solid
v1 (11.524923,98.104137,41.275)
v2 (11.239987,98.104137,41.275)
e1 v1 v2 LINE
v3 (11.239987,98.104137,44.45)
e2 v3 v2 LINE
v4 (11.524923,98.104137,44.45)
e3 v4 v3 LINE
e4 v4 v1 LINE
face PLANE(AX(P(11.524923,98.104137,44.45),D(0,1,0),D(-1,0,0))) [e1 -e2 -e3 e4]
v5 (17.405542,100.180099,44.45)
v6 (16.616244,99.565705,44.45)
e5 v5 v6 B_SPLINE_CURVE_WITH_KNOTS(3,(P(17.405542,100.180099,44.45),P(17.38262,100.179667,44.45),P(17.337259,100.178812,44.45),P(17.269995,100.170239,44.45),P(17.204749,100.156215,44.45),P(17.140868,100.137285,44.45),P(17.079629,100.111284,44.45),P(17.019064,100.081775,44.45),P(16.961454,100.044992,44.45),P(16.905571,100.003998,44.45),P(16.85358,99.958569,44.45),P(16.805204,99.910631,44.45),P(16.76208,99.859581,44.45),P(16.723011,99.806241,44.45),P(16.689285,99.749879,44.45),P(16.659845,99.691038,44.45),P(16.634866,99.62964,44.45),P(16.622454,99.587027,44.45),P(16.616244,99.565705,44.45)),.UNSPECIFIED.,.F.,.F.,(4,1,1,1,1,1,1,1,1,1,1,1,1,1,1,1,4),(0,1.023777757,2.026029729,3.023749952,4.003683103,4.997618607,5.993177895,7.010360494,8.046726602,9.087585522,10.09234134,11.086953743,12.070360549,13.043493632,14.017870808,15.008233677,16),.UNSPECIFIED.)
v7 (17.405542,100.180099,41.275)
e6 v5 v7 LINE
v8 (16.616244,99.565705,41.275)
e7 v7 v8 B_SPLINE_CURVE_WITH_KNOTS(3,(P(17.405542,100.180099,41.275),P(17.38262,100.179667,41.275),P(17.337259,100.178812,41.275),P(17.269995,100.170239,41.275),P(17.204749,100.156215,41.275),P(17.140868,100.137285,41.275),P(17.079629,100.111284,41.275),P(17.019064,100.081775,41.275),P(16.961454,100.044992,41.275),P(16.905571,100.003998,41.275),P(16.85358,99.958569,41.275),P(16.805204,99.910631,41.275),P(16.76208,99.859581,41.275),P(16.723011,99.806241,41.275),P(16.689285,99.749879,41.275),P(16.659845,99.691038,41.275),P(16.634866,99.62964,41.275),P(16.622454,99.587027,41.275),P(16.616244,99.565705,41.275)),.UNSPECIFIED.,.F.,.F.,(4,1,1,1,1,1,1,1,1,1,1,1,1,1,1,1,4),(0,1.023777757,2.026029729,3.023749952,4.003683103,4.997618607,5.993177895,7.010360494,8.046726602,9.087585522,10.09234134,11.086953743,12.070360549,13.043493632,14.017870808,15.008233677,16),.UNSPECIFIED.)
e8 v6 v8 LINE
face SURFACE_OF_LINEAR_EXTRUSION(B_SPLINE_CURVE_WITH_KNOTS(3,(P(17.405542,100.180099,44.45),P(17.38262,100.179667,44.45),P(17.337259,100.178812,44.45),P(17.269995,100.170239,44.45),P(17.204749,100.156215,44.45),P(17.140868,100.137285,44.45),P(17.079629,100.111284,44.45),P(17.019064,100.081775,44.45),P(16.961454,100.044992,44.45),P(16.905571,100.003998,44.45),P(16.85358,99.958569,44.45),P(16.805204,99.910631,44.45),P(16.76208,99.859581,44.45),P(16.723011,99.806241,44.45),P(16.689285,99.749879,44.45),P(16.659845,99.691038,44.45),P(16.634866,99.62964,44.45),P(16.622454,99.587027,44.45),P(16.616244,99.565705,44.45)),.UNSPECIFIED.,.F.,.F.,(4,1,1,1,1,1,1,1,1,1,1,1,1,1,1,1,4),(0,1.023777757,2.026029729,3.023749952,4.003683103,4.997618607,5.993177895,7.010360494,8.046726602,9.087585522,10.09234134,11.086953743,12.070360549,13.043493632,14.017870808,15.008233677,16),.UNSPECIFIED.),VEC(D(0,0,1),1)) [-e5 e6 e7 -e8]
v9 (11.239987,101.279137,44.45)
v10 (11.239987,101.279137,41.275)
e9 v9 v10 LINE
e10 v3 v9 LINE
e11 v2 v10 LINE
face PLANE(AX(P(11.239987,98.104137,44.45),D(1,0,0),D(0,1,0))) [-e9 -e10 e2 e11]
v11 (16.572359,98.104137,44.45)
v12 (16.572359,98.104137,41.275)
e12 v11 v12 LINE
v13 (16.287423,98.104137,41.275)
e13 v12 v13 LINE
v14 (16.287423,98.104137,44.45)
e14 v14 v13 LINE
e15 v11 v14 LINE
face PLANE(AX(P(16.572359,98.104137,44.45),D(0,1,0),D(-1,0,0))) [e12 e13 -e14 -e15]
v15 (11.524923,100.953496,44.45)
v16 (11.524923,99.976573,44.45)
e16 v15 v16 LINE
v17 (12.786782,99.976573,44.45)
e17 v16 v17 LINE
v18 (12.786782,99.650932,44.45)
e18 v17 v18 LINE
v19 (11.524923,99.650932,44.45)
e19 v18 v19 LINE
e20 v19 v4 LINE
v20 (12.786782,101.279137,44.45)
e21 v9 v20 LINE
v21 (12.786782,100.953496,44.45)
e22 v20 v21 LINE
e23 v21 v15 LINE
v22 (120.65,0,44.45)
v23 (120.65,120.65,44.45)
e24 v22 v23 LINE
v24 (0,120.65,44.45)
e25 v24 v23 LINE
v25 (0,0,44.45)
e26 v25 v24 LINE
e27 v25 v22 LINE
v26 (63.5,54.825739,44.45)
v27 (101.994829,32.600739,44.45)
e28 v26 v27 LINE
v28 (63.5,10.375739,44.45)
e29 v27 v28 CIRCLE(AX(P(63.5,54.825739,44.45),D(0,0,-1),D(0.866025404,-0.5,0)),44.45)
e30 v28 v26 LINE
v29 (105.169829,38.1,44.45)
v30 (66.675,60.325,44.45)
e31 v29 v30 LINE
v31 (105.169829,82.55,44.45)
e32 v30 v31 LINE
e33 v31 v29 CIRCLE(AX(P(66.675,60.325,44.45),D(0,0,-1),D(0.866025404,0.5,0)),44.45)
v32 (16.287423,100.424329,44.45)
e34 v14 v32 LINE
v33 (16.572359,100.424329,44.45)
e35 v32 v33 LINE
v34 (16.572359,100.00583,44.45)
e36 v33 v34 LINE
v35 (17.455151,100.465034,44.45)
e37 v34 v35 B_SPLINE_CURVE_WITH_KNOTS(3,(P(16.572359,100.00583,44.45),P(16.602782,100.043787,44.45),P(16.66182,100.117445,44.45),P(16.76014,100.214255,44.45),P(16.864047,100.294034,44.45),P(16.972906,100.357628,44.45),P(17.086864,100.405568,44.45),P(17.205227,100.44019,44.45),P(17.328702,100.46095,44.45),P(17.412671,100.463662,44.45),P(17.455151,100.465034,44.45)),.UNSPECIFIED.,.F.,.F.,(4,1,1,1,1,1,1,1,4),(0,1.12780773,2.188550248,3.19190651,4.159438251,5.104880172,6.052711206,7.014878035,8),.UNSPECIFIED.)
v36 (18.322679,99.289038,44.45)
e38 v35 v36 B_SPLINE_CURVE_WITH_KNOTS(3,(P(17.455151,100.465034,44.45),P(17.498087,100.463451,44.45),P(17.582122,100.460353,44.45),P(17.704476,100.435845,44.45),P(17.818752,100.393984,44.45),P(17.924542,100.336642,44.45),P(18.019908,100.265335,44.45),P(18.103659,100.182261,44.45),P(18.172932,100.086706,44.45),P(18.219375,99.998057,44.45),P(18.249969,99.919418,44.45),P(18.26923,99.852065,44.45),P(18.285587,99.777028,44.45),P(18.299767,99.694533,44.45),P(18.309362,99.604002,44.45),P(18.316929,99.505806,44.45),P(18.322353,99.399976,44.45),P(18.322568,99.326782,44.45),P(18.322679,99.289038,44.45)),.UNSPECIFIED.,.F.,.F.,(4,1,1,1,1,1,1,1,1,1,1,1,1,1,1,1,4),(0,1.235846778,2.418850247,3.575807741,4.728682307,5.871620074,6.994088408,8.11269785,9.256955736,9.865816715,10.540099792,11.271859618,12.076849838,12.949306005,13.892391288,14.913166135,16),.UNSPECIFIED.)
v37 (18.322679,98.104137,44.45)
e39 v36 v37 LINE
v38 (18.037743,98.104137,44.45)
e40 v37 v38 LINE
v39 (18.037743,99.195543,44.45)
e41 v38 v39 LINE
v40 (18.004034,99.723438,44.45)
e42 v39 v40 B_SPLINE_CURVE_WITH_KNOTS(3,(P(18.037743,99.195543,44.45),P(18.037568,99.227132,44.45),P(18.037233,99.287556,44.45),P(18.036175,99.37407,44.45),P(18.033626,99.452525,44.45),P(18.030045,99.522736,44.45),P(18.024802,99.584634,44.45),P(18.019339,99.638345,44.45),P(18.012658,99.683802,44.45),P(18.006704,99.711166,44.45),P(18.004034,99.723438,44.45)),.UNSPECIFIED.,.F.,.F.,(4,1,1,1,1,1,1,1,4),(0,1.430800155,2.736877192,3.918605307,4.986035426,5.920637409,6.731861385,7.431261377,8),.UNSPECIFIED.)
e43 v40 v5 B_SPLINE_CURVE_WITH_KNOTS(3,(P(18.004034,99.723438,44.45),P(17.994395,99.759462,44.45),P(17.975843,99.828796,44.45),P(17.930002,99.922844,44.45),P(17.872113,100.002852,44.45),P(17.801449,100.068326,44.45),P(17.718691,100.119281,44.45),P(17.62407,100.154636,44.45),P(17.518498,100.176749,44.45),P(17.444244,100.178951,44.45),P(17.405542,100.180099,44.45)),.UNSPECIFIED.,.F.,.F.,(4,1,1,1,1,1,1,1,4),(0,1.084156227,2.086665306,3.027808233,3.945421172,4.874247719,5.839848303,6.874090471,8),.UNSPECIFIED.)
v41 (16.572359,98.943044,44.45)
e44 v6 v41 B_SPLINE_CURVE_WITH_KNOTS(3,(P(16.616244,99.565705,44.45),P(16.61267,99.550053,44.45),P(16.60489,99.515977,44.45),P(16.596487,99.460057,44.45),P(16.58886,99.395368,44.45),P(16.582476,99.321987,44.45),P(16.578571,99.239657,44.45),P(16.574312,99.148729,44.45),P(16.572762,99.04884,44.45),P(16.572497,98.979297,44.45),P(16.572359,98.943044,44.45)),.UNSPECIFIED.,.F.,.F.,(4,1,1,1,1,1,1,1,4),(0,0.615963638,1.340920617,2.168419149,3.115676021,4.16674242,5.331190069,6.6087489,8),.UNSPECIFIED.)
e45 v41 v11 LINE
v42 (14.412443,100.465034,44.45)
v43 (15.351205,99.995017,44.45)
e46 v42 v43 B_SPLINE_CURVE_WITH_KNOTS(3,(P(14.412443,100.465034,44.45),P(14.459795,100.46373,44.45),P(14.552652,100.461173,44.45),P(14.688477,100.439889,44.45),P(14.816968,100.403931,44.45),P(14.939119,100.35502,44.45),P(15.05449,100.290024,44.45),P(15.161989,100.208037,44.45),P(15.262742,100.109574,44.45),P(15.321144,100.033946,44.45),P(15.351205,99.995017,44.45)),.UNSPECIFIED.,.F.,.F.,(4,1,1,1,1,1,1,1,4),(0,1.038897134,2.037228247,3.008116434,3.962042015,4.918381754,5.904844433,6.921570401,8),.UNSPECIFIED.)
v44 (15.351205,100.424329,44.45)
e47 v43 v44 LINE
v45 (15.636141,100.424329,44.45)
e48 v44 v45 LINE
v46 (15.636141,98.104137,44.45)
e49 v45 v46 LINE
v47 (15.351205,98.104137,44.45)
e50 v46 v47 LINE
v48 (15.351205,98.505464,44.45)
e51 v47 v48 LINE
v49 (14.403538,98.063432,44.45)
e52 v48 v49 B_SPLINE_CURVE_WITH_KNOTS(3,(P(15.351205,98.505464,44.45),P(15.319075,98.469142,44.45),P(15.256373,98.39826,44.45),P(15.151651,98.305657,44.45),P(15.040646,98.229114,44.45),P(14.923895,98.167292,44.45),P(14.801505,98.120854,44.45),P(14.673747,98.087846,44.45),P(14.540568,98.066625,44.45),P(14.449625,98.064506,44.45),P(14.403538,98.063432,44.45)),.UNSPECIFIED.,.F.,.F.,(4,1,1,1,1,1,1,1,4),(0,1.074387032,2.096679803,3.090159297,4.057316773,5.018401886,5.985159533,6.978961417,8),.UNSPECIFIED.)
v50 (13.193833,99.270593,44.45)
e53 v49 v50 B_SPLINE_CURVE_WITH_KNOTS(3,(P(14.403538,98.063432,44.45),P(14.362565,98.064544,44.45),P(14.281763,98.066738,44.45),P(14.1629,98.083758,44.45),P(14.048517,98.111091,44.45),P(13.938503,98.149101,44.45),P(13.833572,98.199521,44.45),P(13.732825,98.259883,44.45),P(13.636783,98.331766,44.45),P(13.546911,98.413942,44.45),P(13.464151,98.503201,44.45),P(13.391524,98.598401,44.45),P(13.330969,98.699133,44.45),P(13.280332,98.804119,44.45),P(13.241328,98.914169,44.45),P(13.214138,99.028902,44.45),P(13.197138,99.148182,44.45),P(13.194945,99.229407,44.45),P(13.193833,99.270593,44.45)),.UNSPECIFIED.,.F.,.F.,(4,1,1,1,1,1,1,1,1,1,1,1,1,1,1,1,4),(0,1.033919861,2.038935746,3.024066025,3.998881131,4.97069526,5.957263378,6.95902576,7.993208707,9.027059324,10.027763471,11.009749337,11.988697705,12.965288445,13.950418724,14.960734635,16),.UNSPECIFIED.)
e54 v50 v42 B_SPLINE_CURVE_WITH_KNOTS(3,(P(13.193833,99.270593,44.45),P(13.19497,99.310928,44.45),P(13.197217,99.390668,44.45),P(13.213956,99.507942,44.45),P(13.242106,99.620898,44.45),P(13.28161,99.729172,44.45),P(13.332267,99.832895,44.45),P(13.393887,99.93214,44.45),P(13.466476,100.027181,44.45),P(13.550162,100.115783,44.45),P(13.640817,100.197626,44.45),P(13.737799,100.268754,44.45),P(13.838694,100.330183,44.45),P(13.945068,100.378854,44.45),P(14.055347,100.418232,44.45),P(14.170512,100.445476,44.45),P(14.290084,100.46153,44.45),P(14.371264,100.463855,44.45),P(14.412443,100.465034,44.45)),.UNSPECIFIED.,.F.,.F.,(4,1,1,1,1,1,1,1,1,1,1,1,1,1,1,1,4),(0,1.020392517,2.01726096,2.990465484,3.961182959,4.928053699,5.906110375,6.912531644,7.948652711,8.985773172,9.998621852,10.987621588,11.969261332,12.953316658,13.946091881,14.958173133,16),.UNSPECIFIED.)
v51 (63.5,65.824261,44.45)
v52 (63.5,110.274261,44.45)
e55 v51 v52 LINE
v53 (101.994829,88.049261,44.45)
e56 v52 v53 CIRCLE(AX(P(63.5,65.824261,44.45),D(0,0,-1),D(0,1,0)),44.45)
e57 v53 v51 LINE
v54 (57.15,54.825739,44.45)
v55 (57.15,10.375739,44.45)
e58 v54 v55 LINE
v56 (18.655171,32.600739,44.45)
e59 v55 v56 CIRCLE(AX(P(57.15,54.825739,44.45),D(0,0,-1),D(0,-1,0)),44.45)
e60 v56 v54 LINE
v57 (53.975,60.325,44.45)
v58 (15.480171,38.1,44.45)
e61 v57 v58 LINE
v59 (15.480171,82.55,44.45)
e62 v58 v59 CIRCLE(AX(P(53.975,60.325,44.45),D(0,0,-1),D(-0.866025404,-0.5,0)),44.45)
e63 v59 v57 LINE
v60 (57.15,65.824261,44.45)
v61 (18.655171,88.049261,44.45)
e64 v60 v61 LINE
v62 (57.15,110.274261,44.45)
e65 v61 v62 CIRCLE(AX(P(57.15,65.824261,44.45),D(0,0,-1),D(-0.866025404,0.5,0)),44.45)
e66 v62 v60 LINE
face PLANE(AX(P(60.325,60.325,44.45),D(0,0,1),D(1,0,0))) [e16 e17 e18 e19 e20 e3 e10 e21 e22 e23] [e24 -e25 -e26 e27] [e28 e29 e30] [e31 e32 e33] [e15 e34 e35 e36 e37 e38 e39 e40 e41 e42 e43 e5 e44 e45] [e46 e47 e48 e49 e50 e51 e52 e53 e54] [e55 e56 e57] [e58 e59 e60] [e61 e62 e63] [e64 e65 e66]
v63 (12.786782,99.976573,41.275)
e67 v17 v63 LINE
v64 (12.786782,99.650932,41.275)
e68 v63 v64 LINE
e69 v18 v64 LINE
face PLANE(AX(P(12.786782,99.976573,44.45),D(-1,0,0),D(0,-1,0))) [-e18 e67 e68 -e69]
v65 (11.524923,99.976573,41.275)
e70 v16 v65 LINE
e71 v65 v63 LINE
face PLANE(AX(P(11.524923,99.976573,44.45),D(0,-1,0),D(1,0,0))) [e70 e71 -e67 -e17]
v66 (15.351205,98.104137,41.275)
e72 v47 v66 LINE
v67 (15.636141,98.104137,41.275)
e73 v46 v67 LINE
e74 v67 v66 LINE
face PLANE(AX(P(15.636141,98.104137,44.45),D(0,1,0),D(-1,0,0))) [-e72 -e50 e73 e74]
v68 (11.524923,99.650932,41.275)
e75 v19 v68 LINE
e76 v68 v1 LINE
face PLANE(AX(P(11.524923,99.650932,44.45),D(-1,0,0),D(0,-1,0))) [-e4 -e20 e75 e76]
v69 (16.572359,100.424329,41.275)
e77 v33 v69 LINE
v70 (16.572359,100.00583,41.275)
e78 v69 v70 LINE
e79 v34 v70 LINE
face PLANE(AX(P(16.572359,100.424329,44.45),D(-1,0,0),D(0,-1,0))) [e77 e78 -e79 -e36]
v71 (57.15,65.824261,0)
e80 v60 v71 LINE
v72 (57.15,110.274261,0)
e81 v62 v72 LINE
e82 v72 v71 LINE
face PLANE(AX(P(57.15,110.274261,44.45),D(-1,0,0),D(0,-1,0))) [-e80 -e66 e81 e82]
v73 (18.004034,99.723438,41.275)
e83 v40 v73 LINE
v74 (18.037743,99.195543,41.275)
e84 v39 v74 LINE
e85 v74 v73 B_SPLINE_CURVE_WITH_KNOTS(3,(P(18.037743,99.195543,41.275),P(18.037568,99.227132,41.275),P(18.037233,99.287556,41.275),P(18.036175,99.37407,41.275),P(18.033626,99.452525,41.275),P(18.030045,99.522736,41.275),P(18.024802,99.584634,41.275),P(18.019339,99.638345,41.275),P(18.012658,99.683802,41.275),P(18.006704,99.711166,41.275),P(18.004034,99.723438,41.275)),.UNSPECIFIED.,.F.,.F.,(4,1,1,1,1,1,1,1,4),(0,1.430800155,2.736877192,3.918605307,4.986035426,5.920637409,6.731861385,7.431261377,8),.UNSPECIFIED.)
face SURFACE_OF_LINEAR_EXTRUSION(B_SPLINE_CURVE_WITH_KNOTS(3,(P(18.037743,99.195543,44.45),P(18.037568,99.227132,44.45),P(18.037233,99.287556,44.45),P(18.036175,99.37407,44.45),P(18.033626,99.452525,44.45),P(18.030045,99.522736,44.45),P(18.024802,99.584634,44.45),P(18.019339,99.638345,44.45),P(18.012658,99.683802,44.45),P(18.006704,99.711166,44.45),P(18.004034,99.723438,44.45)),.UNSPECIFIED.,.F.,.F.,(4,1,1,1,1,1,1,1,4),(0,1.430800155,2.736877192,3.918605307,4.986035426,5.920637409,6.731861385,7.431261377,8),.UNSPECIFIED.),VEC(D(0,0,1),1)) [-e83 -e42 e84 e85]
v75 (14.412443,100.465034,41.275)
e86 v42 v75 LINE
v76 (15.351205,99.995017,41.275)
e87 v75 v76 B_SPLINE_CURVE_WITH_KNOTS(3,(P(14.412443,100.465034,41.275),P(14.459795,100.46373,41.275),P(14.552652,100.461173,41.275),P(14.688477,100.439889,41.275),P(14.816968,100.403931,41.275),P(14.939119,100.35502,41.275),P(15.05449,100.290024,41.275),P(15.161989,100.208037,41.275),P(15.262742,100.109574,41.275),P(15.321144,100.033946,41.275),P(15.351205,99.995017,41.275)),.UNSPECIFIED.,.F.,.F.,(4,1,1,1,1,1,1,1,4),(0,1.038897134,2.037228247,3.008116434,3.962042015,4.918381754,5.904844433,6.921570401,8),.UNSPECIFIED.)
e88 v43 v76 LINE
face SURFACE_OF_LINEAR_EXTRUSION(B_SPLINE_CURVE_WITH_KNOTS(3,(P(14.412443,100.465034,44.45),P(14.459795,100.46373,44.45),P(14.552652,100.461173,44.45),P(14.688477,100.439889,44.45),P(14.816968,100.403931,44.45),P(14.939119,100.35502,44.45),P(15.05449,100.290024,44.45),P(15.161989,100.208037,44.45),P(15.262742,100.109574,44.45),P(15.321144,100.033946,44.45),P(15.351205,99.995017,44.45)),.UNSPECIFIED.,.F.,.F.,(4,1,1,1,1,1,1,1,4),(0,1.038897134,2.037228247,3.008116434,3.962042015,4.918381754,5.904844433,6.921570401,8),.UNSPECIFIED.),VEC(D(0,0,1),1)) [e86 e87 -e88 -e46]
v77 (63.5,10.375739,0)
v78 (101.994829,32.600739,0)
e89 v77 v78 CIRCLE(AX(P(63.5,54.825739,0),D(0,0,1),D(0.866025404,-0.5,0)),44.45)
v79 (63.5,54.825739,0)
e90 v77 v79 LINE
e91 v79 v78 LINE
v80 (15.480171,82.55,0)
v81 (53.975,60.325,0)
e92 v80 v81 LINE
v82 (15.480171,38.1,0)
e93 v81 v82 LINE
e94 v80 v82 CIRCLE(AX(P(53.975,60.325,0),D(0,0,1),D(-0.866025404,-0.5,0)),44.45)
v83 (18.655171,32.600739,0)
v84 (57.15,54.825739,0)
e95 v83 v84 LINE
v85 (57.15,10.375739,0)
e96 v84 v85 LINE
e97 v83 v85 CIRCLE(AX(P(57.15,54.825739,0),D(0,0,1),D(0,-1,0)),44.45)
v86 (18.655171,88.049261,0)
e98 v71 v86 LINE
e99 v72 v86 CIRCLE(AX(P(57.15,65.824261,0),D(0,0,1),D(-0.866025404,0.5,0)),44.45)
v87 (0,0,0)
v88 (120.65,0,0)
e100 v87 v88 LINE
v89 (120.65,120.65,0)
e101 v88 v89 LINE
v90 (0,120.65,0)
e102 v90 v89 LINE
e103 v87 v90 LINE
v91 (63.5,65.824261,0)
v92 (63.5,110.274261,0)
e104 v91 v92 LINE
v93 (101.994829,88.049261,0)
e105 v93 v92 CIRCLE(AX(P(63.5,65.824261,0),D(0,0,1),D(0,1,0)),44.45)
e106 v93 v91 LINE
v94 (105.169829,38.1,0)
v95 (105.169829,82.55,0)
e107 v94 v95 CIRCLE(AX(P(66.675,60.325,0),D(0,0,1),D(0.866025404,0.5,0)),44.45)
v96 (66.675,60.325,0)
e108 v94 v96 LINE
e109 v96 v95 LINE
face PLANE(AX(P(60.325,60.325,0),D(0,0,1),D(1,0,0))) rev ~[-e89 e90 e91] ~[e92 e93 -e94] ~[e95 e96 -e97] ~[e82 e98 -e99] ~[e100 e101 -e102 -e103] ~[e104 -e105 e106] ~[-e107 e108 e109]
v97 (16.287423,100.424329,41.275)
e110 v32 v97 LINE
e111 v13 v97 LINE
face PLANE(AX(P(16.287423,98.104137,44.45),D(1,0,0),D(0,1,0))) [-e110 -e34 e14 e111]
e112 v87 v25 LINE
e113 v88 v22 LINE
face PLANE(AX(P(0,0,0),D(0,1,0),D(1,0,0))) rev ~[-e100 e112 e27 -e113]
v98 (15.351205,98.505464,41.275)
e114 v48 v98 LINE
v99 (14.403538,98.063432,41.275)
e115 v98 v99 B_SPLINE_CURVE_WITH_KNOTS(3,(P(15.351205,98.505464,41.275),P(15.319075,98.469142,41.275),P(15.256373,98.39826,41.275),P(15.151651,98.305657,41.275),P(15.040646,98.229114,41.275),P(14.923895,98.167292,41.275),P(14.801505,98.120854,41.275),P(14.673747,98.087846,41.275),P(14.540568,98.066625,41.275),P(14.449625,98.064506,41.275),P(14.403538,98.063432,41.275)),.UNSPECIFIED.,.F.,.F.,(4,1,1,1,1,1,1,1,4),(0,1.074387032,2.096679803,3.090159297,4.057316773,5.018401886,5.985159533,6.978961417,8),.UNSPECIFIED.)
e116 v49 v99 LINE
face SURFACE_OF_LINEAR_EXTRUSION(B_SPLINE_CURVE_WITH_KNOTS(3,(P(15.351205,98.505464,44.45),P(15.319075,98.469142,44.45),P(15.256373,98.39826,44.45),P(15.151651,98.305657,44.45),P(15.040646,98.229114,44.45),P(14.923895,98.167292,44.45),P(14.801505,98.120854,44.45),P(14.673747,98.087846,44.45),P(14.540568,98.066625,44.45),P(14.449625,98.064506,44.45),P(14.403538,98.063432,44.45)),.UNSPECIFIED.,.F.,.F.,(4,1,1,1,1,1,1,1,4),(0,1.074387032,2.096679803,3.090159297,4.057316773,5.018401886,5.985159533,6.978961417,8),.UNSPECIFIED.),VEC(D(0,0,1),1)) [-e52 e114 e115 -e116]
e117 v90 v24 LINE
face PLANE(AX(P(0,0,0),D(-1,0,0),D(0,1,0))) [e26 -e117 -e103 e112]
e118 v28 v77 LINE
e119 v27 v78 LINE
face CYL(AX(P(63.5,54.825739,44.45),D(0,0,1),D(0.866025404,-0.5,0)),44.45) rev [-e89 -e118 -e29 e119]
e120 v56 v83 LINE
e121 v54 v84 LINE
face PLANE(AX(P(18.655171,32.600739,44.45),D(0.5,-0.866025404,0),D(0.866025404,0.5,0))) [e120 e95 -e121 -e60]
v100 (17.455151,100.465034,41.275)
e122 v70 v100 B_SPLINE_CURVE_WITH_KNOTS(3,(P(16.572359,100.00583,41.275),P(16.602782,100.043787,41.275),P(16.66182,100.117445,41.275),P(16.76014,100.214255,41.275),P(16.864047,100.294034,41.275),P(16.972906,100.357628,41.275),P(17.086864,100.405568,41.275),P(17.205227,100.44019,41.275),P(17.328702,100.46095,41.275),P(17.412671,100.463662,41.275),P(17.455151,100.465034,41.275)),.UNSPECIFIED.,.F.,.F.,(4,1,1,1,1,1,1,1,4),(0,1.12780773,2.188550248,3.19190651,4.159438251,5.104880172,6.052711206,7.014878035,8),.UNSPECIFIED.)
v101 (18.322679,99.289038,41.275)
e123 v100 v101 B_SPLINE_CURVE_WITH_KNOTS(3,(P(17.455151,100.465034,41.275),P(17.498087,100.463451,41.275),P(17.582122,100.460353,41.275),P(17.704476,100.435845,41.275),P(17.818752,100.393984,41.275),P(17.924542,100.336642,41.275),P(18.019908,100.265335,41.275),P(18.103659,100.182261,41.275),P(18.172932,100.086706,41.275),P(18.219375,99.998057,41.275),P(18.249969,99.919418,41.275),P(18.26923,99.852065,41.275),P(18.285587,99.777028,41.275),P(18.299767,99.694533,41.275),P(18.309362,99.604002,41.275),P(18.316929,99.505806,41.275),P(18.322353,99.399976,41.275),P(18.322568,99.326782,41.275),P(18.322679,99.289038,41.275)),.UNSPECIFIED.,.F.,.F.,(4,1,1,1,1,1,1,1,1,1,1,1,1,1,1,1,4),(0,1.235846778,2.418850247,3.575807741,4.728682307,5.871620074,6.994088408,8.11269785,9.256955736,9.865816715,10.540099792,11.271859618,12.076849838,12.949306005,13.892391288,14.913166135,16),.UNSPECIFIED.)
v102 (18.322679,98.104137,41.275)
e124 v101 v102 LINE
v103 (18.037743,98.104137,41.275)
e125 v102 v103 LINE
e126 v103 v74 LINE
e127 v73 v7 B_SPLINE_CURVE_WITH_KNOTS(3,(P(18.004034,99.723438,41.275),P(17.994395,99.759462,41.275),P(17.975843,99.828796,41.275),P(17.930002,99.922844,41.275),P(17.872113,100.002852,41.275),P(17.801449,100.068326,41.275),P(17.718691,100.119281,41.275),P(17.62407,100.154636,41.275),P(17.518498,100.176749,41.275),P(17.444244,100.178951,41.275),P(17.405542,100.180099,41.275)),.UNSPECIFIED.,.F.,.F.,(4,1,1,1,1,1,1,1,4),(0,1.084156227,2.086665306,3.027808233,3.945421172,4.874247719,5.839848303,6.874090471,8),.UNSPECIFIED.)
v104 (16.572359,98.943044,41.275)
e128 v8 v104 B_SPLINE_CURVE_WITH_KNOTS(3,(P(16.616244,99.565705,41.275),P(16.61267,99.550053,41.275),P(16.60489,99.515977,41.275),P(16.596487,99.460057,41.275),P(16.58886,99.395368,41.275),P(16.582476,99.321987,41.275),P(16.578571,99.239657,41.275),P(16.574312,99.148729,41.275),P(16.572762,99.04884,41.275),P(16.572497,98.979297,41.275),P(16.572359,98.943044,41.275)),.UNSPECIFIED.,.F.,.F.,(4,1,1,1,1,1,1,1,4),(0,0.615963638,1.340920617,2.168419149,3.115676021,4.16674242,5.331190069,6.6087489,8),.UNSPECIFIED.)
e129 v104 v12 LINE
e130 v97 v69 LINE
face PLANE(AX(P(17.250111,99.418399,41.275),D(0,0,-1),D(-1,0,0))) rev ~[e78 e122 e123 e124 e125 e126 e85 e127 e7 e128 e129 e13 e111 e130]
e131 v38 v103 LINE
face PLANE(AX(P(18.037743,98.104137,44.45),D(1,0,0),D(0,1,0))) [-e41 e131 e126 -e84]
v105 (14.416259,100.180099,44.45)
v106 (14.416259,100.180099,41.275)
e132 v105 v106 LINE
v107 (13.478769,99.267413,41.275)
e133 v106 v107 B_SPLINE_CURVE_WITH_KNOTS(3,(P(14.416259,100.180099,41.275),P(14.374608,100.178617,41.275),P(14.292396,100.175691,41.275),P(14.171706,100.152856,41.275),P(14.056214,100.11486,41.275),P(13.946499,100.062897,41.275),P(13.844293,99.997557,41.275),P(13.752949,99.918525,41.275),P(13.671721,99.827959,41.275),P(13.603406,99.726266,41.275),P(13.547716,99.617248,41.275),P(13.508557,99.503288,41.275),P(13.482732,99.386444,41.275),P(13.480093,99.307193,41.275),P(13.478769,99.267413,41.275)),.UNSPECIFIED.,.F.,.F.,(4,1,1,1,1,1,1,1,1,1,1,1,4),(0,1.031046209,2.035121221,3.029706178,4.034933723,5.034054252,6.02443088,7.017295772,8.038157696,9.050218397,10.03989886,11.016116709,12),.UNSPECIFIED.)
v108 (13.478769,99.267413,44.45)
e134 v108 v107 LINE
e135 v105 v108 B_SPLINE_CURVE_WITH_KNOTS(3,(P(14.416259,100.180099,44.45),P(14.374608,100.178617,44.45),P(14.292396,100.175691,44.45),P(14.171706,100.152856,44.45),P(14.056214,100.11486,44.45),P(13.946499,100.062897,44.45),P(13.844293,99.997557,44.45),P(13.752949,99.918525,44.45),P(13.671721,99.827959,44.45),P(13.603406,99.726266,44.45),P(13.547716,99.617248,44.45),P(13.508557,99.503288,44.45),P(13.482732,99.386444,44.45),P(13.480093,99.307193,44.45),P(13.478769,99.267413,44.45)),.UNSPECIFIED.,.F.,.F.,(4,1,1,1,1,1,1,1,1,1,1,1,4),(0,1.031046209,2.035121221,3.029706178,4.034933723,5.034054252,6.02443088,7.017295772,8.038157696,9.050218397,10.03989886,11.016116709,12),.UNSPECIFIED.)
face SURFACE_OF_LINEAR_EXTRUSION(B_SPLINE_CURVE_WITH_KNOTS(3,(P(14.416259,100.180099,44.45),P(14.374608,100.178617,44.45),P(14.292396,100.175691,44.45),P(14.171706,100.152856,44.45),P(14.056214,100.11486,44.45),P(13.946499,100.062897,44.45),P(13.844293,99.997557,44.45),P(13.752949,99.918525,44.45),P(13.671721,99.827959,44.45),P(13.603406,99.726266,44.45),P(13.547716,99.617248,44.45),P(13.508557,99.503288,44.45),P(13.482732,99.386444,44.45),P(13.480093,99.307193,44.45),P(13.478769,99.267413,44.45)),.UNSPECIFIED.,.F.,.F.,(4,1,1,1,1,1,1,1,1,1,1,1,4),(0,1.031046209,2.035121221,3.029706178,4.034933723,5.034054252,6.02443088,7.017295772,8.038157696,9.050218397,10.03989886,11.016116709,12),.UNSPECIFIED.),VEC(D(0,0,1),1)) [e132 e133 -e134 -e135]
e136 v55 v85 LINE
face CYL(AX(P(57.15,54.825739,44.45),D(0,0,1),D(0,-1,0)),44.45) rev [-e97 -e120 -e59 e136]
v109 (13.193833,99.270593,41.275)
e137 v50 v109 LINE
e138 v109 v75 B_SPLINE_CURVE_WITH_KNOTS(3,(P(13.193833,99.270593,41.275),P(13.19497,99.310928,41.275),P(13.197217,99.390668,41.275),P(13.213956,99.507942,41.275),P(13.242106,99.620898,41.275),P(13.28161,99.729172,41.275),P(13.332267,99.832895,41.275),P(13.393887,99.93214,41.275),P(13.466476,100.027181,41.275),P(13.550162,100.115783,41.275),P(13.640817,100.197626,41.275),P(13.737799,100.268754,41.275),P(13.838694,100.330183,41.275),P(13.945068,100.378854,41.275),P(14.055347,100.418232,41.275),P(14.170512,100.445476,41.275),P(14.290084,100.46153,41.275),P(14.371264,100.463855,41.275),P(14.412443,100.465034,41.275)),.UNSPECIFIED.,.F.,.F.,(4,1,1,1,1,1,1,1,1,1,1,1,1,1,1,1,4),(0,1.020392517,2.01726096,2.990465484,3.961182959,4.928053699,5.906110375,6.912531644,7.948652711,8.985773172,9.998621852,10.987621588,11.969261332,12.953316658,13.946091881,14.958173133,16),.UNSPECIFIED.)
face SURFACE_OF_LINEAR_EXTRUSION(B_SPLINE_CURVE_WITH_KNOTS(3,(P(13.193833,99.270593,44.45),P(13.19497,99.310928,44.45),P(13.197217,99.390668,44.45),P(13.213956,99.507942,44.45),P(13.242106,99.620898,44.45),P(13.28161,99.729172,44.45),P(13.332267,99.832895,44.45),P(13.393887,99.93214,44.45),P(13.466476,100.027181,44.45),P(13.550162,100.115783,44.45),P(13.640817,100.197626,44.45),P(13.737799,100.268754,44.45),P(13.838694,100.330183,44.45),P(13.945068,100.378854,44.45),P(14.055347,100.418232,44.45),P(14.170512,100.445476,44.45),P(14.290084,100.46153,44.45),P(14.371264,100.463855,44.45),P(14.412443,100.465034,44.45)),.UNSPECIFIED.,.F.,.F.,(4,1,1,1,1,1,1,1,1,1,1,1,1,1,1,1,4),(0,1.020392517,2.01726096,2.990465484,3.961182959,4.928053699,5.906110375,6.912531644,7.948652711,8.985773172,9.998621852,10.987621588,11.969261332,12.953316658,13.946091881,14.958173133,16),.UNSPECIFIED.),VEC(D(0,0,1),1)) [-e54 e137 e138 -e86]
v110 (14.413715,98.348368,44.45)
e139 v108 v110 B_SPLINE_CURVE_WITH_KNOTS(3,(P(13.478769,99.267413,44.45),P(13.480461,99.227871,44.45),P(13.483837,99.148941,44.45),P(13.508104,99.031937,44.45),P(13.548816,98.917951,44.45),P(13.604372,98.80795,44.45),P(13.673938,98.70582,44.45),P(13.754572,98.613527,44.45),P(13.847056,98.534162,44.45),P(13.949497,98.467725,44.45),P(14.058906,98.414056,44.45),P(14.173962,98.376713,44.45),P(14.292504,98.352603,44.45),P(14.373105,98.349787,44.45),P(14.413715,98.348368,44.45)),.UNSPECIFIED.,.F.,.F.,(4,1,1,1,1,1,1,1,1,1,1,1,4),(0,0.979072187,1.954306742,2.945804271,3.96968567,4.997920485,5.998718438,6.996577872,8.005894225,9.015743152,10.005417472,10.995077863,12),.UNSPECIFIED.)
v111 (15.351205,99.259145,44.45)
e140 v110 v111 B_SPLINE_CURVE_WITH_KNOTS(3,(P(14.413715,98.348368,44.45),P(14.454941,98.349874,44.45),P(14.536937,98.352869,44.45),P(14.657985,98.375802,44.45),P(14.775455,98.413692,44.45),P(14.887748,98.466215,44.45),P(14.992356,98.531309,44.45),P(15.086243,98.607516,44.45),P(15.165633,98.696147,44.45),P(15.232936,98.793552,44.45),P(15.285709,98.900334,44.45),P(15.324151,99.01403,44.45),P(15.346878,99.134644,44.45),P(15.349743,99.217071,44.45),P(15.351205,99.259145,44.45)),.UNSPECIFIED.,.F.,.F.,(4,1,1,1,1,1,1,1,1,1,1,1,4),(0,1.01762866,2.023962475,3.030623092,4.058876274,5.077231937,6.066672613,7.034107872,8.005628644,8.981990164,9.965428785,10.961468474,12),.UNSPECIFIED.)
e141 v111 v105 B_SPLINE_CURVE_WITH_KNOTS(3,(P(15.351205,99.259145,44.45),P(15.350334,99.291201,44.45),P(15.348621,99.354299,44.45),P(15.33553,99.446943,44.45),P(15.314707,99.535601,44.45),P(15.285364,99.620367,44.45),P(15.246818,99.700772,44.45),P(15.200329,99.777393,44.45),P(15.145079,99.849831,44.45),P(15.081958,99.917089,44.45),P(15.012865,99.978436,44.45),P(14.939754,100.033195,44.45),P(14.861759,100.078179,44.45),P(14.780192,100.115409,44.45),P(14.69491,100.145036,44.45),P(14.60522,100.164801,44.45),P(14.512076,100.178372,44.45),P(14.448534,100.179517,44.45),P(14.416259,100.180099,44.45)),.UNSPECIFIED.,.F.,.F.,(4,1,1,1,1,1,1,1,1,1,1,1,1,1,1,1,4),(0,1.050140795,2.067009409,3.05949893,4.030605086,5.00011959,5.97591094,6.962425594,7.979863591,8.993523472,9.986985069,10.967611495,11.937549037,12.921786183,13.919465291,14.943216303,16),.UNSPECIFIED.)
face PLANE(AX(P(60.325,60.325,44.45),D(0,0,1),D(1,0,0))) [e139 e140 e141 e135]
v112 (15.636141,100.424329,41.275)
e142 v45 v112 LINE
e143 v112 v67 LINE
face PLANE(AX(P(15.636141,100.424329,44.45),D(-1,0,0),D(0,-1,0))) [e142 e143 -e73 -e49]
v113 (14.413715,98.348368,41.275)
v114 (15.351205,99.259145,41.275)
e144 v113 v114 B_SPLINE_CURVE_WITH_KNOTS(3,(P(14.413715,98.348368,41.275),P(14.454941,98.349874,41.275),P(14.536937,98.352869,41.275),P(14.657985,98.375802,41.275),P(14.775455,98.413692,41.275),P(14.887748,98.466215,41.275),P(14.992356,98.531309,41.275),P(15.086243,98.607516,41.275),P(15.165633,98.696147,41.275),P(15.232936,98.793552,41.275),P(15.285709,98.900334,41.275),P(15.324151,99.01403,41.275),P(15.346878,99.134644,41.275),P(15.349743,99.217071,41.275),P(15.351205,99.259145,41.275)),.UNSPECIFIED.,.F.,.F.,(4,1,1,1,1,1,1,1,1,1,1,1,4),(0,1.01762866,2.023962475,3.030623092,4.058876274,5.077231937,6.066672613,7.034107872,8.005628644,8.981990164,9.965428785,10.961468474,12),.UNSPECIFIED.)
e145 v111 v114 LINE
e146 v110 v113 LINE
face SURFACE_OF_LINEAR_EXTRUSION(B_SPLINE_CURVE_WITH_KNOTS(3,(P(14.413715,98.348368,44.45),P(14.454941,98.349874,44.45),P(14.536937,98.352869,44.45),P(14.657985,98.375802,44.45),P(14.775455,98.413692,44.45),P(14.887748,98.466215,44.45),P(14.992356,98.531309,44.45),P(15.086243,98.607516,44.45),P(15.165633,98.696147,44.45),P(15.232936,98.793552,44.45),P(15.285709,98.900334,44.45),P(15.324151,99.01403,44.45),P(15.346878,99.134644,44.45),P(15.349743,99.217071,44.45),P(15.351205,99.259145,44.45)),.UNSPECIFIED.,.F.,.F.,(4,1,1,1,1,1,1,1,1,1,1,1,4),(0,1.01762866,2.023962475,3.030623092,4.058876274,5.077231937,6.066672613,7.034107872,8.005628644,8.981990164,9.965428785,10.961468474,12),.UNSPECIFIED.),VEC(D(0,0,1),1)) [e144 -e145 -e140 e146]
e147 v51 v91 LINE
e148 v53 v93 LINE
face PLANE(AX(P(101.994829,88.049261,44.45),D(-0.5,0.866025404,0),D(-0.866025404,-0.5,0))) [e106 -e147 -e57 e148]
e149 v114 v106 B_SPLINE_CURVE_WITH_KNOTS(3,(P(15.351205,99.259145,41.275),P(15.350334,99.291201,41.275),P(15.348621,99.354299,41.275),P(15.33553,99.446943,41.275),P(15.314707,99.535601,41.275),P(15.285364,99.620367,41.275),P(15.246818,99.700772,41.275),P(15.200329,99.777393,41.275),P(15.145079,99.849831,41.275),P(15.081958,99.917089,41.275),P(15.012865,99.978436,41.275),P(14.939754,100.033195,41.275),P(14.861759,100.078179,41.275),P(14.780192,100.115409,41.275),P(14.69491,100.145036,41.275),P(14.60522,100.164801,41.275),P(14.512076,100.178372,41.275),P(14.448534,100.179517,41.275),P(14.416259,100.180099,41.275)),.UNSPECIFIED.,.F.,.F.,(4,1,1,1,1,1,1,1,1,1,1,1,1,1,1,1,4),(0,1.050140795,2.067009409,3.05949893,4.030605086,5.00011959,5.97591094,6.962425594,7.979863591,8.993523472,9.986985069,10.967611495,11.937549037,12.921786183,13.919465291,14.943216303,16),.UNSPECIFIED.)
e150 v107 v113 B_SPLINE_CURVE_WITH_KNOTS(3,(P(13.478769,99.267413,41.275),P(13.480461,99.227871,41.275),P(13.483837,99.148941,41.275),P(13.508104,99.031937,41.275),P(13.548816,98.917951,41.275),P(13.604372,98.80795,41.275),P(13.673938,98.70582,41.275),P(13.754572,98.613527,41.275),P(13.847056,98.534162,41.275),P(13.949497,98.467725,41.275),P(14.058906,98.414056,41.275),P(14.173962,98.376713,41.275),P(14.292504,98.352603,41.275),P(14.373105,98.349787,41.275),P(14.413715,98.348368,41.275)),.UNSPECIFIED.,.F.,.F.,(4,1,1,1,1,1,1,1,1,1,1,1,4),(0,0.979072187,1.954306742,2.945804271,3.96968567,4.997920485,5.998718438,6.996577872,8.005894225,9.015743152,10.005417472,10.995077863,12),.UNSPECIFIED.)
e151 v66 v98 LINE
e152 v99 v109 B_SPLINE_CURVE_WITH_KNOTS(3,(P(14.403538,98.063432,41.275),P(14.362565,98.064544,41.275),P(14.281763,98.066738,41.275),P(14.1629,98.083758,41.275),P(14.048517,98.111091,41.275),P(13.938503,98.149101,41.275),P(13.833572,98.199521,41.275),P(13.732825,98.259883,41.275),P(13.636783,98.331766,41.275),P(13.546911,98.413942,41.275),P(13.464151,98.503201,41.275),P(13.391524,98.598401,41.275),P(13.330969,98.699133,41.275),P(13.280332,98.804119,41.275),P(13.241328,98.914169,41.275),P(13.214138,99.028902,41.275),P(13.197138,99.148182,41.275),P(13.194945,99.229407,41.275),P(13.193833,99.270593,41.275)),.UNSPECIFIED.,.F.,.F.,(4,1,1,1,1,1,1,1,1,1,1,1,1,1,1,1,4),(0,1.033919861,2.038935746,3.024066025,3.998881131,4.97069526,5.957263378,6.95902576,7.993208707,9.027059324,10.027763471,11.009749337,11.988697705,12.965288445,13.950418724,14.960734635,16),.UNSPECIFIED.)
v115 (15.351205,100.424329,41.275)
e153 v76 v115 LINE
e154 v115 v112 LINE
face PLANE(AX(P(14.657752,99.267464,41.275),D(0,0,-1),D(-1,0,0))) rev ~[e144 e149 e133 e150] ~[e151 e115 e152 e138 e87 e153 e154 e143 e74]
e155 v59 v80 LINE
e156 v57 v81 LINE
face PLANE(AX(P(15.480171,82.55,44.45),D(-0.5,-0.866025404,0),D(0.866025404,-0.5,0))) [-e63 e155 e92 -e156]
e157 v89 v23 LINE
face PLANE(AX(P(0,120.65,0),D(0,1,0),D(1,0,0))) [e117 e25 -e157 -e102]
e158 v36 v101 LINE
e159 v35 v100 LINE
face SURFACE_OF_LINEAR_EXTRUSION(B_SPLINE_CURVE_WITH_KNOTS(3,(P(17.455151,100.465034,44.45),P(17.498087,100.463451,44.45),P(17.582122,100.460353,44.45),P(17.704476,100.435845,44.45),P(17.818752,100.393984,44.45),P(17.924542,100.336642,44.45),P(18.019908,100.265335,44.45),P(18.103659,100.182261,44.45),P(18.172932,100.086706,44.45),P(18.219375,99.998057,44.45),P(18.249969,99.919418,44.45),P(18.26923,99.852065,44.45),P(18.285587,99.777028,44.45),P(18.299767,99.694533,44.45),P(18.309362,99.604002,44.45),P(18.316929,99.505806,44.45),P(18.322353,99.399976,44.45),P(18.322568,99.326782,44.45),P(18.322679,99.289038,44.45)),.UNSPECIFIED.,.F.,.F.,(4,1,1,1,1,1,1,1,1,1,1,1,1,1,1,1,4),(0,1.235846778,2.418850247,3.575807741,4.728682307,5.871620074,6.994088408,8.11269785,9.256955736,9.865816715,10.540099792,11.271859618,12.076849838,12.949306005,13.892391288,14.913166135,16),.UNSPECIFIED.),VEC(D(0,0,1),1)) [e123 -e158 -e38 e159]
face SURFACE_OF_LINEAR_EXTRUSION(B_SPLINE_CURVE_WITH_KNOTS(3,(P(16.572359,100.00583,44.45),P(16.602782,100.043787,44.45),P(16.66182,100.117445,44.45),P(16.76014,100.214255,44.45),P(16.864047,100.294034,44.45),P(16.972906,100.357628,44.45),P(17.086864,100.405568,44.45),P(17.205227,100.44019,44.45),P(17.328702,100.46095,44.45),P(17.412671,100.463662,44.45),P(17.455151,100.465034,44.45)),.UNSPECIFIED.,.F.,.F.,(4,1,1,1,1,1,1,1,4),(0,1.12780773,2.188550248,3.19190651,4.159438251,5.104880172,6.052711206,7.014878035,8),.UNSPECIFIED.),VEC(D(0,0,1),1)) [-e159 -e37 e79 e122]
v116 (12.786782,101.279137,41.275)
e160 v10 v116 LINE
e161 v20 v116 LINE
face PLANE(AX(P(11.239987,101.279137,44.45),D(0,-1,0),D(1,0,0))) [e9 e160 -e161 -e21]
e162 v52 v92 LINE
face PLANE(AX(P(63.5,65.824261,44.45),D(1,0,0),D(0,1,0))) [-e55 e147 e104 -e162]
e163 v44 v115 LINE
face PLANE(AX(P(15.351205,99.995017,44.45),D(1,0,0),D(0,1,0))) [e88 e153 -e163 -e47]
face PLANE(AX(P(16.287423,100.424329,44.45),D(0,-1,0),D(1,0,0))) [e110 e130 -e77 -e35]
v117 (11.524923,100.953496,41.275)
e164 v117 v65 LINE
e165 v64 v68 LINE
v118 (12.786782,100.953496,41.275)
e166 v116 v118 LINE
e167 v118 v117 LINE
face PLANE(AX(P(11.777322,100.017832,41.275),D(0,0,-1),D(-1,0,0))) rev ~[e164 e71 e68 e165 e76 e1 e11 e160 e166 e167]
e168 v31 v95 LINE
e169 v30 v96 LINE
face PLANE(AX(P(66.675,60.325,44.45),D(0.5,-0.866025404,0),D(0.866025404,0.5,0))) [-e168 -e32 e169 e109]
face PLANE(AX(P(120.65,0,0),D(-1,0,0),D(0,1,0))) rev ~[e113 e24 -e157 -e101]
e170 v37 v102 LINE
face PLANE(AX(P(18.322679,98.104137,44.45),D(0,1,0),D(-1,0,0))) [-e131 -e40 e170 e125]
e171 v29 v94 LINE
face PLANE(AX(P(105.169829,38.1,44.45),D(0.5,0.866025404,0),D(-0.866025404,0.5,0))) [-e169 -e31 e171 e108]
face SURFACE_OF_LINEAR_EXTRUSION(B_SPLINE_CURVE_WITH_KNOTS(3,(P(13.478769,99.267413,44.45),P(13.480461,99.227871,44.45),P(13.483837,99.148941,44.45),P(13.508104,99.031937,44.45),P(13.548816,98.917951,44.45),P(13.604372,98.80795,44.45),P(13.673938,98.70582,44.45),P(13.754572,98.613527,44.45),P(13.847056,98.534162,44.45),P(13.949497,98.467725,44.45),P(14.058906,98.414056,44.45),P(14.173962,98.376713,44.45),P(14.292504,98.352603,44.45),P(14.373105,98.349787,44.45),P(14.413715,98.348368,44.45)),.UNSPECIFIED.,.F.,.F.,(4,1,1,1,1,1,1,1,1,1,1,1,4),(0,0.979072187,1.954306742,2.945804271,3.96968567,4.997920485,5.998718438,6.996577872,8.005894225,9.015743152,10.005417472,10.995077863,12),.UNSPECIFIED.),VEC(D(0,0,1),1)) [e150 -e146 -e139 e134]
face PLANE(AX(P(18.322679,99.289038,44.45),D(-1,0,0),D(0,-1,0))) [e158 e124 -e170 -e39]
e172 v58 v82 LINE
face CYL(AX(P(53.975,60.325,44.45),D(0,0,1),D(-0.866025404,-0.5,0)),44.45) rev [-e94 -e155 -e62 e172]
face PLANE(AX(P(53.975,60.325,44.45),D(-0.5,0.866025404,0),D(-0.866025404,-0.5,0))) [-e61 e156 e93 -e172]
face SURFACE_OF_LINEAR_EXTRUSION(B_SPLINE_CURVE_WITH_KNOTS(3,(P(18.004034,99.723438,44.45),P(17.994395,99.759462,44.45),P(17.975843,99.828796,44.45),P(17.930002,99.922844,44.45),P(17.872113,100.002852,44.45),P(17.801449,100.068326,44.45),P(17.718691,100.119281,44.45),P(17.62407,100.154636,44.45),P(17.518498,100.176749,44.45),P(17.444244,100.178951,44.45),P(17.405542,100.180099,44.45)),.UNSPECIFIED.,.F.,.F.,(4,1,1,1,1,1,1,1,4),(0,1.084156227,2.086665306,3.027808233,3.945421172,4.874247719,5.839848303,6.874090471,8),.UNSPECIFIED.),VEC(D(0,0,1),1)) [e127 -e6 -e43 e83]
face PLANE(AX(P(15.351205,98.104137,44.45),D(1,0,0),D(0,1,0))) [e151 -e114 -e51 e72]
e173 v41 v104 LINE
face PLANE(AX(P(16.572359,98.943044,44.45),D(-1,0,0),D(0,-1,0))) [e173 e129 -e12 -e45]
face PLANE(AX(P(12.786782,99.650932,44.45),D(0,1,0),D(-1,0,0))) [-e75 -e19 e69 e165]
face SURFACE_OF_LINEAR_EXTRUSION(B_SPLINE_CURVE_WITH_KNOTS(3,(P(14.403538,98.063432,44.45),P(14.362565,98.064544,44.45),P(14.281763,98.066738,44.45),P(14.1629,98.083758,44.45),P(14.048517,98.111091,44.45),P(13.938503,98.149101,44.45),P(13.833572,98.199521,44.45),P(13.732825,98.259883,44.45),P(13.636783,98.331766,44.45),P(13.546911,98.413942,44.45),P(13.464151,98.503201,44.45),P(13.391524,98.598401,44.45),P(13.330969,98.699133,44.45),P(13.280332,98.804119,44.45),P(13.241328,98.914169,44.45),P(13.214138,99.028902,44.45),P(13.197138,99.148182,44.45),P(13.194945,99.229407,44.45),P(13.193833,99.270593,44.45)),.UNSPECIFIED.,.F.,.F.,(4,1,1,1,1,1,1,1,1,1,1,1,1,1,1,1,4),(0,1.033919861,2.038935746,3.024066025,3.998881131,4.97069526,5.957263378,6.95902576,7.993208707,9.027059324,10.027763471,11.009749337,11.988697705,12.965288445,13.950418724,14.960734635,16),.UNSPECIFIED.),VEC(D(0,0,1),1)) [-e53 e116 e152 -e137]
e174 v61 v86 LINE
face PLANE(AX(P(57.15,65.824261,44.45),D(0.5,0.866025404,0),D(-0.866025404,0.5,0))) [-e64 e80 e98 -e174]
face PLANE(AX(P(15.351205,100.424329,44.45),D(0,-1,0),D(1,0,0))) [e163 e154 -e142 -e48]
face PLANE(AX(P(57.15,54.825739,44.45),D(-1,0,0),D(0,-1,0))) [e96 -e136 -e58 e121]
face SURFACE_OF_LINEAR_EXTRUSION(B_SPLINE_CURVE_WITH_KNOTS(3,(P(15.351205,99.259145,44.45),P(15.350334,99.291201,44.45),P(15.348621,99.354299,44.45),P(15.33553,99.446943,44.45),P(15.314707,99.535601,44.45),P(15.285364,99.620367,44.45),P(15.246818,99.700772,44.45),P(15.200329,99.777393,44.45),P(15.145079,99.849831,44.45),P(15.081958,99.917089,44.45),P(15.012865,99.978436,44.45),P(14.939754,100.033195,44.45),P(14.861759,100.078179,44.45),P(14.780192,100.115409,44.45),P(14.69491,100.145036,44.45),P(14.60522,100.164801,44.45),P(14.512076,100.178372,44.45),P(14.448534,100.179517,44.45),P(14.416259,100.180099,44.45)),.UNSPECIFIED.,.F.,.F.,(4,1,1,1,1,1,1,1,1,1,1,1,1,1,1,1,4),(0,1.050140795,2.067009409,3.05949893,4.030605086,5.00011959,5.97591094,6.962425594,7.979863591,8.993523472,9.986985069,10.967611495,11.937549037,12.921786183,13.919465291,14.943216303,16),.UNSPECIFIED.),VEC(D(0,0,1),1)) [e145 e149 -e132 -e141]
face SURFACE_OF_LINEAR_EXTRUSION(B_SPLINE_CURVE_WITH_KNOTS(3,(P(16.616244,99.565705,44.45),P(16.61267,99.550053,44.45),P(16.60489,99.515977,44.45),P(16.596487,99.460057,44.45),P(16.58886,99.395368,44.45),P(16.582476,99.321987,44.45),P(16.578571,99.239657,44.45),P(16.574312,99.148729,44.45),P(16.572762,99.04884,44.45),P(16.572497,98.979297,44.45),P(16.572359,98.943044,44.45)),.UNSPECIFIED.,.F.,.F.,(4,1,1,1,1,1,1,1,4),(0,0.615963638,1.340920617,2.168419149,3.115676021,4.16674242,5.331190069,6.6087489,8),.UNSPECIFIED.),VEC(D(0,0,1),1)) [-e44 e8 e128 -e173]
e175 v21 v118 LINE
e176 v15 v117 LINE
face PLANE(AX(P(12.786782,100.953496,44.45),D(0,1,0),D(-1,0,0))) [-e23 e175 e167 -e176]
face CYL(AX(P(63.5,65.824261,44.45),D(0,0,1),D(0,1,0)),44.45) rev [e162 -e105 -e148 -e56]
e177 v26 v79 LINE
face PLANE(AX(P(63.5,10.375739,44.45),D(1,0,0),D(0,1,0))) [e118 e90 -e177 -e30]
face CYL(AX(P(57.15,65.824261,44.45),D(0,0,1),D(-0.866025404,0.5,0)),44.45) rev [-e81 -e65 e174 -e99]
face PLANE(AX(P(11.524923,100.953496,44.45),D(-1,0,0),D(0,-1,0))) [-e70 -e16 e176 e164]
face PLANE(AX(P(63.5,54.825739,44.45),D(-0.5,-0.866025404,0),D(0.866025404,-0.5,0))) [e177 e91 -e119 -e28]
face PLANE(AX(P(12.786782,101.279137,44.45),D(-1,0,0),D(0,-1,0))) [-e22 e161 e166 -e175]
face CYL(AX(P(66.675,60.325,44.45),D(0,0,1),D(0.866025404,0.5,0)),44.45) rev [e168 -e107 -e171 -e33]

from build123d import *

# Parameters (mm, degrees)
SKETCH1_W           = 120.65
SKETCH1_H           = 120.65
BOSS_EXTRUDE1_DEPTH = 44.45
CUT_EXTRUDE1_DEPTH  = 3.175
CUT_EXTRUDE2_DEPTH  = 177.319731024


with BuildPart() as part:
    # Sketch1 → Boss-Extrude1 (new body)
    with BuildSketch(Plane.XY):
        with Locations((60.325, 60.325)):
            Rectangle(SKETCH1_W, SKETCH1_H)
    extrude(amount=BOSS_EXTRUDE1_DEPTH)

    # Sketch2 → Cut-Extrude1 (cut)
    # profile 1 of 3: a face of its own
    with BuildSketch(Plane.XY.offset(44.45)):
        Polygon((11.239986737, 101.279136985), (12.786781609, 101.279136985), (12.786781609, 100.953495959), (11.524922635, 100.953495959), (11.524922635, 99.976572882), (12.786781609, 99.976572882), (12.786781609, 99.650931857), (11.524922635, 99.650931857), (11.524922635, 98.104136985), (11.239986737, 98.104136985), align=None)
    # profile 2 of 3: a face of its own
    with BuildSketch(Plane.XY.offset(44.45)):
        with BuildLine():
            Line((15.636140583, 100.424329293), (15.636140583, 98.104136985))
            Line((15.636140583, 98.104136985), (15.351204686, 98.104136985))
            Line((15.351204686, 98.104136985), (15.351204686, 98.505464108))
            add(Edge.make_bspline(
                [(15.351204686, 98.505464108), (15.319074783, 98.469142477), (15.256372873, 98.398260356), (15.151651288, 98.305657242), (15.040645869, 98.22911405), (14.923895385, 98.167292341), (14.801505264, 98.120853833), (14.673746814, 98.087846389), (14.540567918, 98.066624838), (14.449624711, 98.064505733), (14.40353842, 98.063431857)],
                knots=[0, 0, 0, 0, 1.074387032, 2.096679803, 3.090159297, 4.057316773, 5.018401886, 5.985159533, 6.978961417, 8, 8, 8, 8], degree=3))
            add(Edge.make_bspline(
                [(14.40353842, 98.063431857), (14.362564633, 98.064544352), (14.281762512, 98.066738241), (14.16290042, 98.08375833), (14.048516737, 98.111091109), (13.938503374, 98.149101201), (13.833572214, 98.199520947), (13.732824841, 98.259883364), (13.636783184, 98.331766117), (13.546911145, 98.4139424), (13.464150688, 98.50320071), (13.391523676, 98.598401313), (13.330969097, 98.699132546), (13.280332309, 98.80411905), (13.241328482, 98.914169013), (13.214138114, 99.028901872), (13.197137852, 99.148181972), (13.19494487, 99.229407111), (13.193832891, 99.270593315)],
                knots=[0, 0, 0, 0, 1.033919861, 2.038935746, 3.024066025, 3.998881131, 4.97069526, 5.957263378, 6.95902576, 7.993208707, 9.027059324, 10.027763471, 11.009749337, 11.988697705, 12.965288445, 13.950418724, 14.960734635, 16, 16, 16, 16], degree=3))
            add(Edge.make_bspline(
                [(13.193832891, 99.270593315), (13.194969515, 99.310928246), (13.19721656, 99.390668229), (13.213956266, 99.507942476), (13.242105824, 99.620898327), (13.281609943, 99.729172126), (13.332266573, 99.832894886), (13.393887052, 99.932139965), (13.46647583, 100.027180776), (13.550161942, 100.115782532), (13.640817055, 100.197625518), (13.737798546, 100.268753723), (13.838693952, 100.330182579), (13.945068254, 100.378853947), (14.055346985, 100.418232206), (14.170511896, 100.445476398), (14.290083828, 100.461530397), (14.371264489, 100.46385519), (14.412442667, 100.465034421)],
                knots=[0, 0, 0, 0, 1.020392517, 2.01726096, 2.990465484, 3.961182959, 4.928053699, 5.906110375, 6.912531644, 7.948652711, 8.985773172, 9.998621852, 10.987621588, 11.969261332, 12.953316658, 13.946091881, 14.958173133, 16, 16, 16, 16], degree=3))
            add(Edge.make_bspline(
                [(14.412442667, 100.465034421), (14.459795396, 100.463730175), (14.552651863, 100.46117261), (14.688476557, 100.439888564), (14.816968334, 100.403930812), (14.939119067, 100.355019939), (15.054490118, 100.290024306), (15.161989254, 100.20803677), (15.262741514, 100.109574407), (15.321143636, 100.033945504), (15.351204686, 99.995017394)],
                knots=[0, 0, 0, 0, 1.038897134, 2.037228247, 3.008116434, 3.962042015, 4.918381754, 5.904844433, 6.921570401, 8, 8, 8, 8], degree=3))
            Line((15.351204686, 99.995017394), (15.351204686, 100.424329293))
            Line((15.351204686, 100.424329293), (15.636140583, 100.424329293))
        make_face()
        with BuildLine():
            add(Edge.make_bspline(
                [(14.416258772, 100.180098523), (14.374607909, 100.178616581), (14.292395729, 100.175691461), (14.171705813, 100.152855505), (14.056214359, 100.114860194), (13.946498991, 100.062897327), (13.844292823, 99.997556973), (13.752949279, 99.918525432), (13.671721257, 99.827958998), (13.603405903, 99.726266369), (13.547715952, 99.617247672), (13.508557288, 99.503288361), (13.482731613, 99.386443845), (13.480093169, 99.307193409), (13.478768789, 99.267413227)],
                knots=[0, 0, 0, 0, 1.031046209, 2.035121221, 3.029706178, 4.034933723, 5.034054252, 6.02443088, 7.017295772, 8.038157696, 9.050218397, 10.03989886, 11.016116709, 12, 12, 12, 12], degree=3))
            add(Edge.make_bspline(
                [(13.478768789, 99.267413227), (13.480460513, 99.227870773), (13.483837331, 99.148940857), (13.508104033, 99.031937048), (13.548816489, 98.917950881), (13.604371789, 98.807949837), (13.673937513, 98.705819975), (13.754572219, 98.613527149), (13.847055689, 98.534161594), (13.94949707, 98.467724652), (14.058905729, 98.414055794), (14.173962224, 98.376712678), (14.292503696, 98.352602834), (14.373105456, 98.34978663), (14.413714702, 98.348367754)],
                knots=[0, 0, 0, 0, 0.979072187, 1.954306742, 2.945804271, 3.96968567, 4.997920485, 5.998718438, 6.996577872, 8.005894225, 9.015743152, 10.005417472, 10.995077863, 12, 12, 12, 12], degree=3))
            add(Edge.make_bspline(
                [(14.413714702, 98.348367754), (14.454941172, 98.349873579), (14.536936533, 98.352868514), (14.657984504, 98.375802233), (14.775454934, 98.4136925), (14.887747634, 98.46621528), (14.992355839, 98.531309452), (15.086243199, 98.607515885), (15.165632685, 98.696146631), (15.232935981, 98.793552413), (15.285709394, 98.90033401), (15.324150534, 99.014030026), (15.346878006, 99.134644419), (15.349742517, 99.217070981), (15.351204686, 99.259144998)],
                knots=[0, 0, 0, 0, 1.01762866, 2.023962475, 3.030623092, 4.058876274, 5.077231937, 6.066672613, 7.034107872, 8.005628644, 8.981990164, 9.965428785, 10.961468474, 12, 12, 12, 12], degree=3))
            add(Edge.make_bspline(
                [(15.351204686, 99.259144998), (15.350334141, 99.291201458), (15.348620632, 99.354298717), (15.335530044, 99.446942965), (15.314706646, 99.535601417), (15.285364049, 99.620367285), (15.246818384, 99.700771906), (15.200329339, 99.777392602), (15.145079395, 99.849830873), (15.08195795, 99.91708923), (15.01286523, 99.978436092), (14.939754468, 100.033195082), (14.861759462, 100.078179183), (14.780191864, 100.115409479), (14.694910154, 100.145035994), (14.605220377, 100.164800545), (14.512075868, 100.178371693), (14.448534089, 100.179516853), (14.416258772, 100.180098523)],
                knots=[0, 0, 0, 0, 1.050140795, 2.067009409, 3.05949893, 4.030605086, 5.00011959, 5.97591094, 6.962425594, 7.979863591, 8.993523472, 9.986985069, 10.967611495, 11.937549037, 12.921786183, 13.919465291, 14.943216303, 16, 16, 16, 16], degree=3))
        make_face(mode=Mode.SUBTRACT)
    # profile 3 of 3: a face of its own
    with BuildSketch(Plane.XY.offset(44.45)):
        with BuildLine():
            Line((16.287422635, 100.424329293), (16.572358532, 100.424329293))
            Line((16.572358532, 100.424329293), (16.572358532, 100.005829693))
            add(Edge.make_bspline(
                [(16.572358532, 100.005829693), (16.602781958, 100.04378702), (16.661819678, 100.117444538), (16.760139752, 100.214255345), (16.864047433, 100.294034228), (16.972906393, 100.357628384), (17.08686441, 100.405567823), (17.20522684, 100.440189775), (17.328702324, 100.460949584), (17.412671491, 100.46366215), (17.455151, 100.465034421)],
                knots=[0, 0, 0, 0, 1.12780773, 2.188550248, 3.19190651, 4.159438251, 5.104880172, 6.052711206, 7.014878035, 8, 8, 8, 8], degree=3))
            add(Edge.make_bspline(
                [(17.455151, 100.465034421), (17.498086647, 100.463451279), (17.582122064, 100.460352689), (17.704475734, 100.435844691), (17.818751598, 100.393984352), (17.924542195, 100.336641974), (18.019907596, 100.265334673), (18.103659425, 100.182260543), (18.1729318, 100.086705667), (18.219375122, 99.998056804), (18.249969102, 99.919417684), (18.269229866, 99.852065275), (18.285586542, 99.777028095), (18.29976677, 99.694532896), (18.309361722, 99.60400168), (18.316929372, 99.50580556), (18.322352902, 99.399976341), (18.322568082, 99.326782044), (18.322679045, 99.289037826)],
                knots=[0, 0, 0, 0, 1.235846778, 2.418850247, 3.575807741, 4.728682307, 5.871620074, 6.994088408, 8.11269785, 9.256955736, 9.865816715, 10.540099792, 11.271859618, 12.076849838, 12.949306005, 13.892391288, 14.913166135, 16, 16, 16, 16], degree=3))
            Line((18.322679045, 99.289037826), (18.322679045, 98.104136985))
            Line((18.322679045, 98.104136985), (18.037743147, 98.104136985))
            Line((18.037743147, 98.104136985), (18.037743147, 99.195543235))
            add(Edge.make_bspline(
                [(18.037743147, 99.195543235), (18.03756788, 99.227132167), (18.037232624, 99.287556418), (18.036175216, 99.374069747), (18.03362632, 99.452525428), (18.030044636, 99.522735897), (18.02480223, 99.584633735), (18.019338843, 99.638345007), (18.012657756, 99.683801521), (18.006704257, 99.71116556), (18.004034213, 99.723437866)],
                knots=[0, 0, 0, 0, 1.430800155, 2.736877192, 3.918605307, 4.986035426, 5.920637409, 6.731861385, 7.431261377, 8, 8, 8, 8], degree=3))
            add(Edge.make_bspline(
                [(18.004034213, 99.723437866), (17.994395338, 99.759461584), (17.975843486, 99.828796095), (17.930001944, 99.922843544), (17.872113366, 100.0028519), (17.801448888, 100.068326497), (17.718691084, 100.119281471), (17.624069604, 100.154636415), (17.518497552, 100.176749174), (17.444243933, 100.178950929), (17.405541625, 100.180098523)],
                knots=[0, 0, 0, 0, 1.084156227, 2.086665306, 3.027808233, 3.945421172, 4.874247719, 5.839848303, 6.874090471, 8, 8, 8, 8], degree=3))
            add(Edge.make_bspline(
                [(17.405541625, 100.180098523), (17.382620226, 100.179666719), (17.337259371, 100.17881219), (17.269994753, 100.170238512), (17.204749253, 100.156215485), (17.140868064, 100.137284649), (17.079628851, 100.111283876), (17.019064101, 100.081775091), (16.961454393, 100.04499207), (16.905571312, 100.00399772), (16.853580408, 99.958568725), (16.805203986, 99.910631205), (16.762080211, 99.859581193), (16.72301077, 99.806241241), (16.689284774, 99.749878788), (16.659845187, 99.691037595), (16.634866378, 99.629640218), (16.622454221, 99.587027126), (16.616243748, 99.565705495)],
                knots=[0, 0, 0, 0, 1.023777757, 2.026029729, 3.023749952, 4.003683103, 4.997618607, 5.993177895, 7.010360494, 8.046726602, 9.087585522, 10.09234134, 11.086953743, 12.070360549, 13.043493632, 14.017870808, 15.008233677, 16, 16, 16, 16], degree=3))
            add(Edge.make_bspline(
                [(16.616243748, 99.565705495), (16.612669924, 99.55005256), (16.604889896, 99.515976941), (16.596486869, 99.460056647), (16.588859997, 99.395368312), (16.58247647, 99.321987425), (16.578570842, 99.239657066), (16.574312354, 99.148728842), (16.572761991, 99.048840178), (16.572496784, 98.979297071), (16.572358532, 98.943044237)],
                knots=[0, 0, 0, 0, 0.615963638, 1.340920617, 2.168419149, 3.115676021, 4.16674242, 5.331190069, 6.6087489, 8, 8, 8, 8], degree=3))
            Line((16.572358532, 98.943044237), (16.572358532, 98.104136985))
            Line((16.572358532, 98.104136985), (16.287422635, 98.104136985))
            Line((16.287422635, 98.104136985), (16.287422635, 100.424329293))
        make_face()
    extrude(amount=-CUT_EXTRUDE1_DEPTH, mode=Mode.SUBTRACT)

    # Sketch3 → Cut-Extrude2 (cut, through all)
    with BuildSketch(Plane.XY.offset(44.45)):
        with BuildLine():
            Line((66.675, 60.325), (105.169829198, 82.55))
            ThreePointArc((105.169829198, 82.55), (111.125, 60.325), (105.169829198, 38.1))
            Line((105.169829198, 38.1), (66.675, 60.325))
        make_face()
        with BuildLine():
            Line((63.5, 54.825738686), (101.994829198, 32.600738686))
            ThreePointArc((101.994829198, 32.600738686), (85.725, 16.330909488), (63.5, 10.375738686))
            Line((63.5, 10.375738686), (63.5, 54.825738686))
        make_face()
        with BuildLine():
            Line((57.15, 54.825738686), (57.15, 10.375738686))
            ThreePointArc((57.15, 10.375738686), (34.925, 16.330909488), (18.655170802, 32.600738686))
            Line((18.655170802, 32.600738686), (57.15, 54.825738686))
        make_face()
        with BuildLine():
            Line((53.975, 60.325), (15.480170802, 38.1))
            ThreePointArc((15.480170802, 38.1), (9.525, 60.325), (15.480170802, 82.55))
            Line((15.480170802, 82.55), (53.975, 60.325))
        make_face()
        with BuildLine():
            Line((57.15, 65.824261314), (18.655170802, 88.049261314))
            ThreePointArc((18.655170802, 88.049261314), (34.925, 104.319090512), (57.15, 110.274261314))
            Line((57.15, 110.274261314), (57.15, 65.824261314))
        make_face()
        with BuildLine():
            Line((63.5, 65.824261314), (63.5, 110.274261314))
            ThreePointArc((63.5, 110.274261314), (85.725, 104.319090512), (101.994829198, 88.049261314))
            Line((101.994829198, 88.049261314), (63.5, 65.824261314))
        make_face()
    extrude(amount=-CUT_EXTRUDE2_DEPTH, mode=Mode.SUBTRACT)


solid = part.part
